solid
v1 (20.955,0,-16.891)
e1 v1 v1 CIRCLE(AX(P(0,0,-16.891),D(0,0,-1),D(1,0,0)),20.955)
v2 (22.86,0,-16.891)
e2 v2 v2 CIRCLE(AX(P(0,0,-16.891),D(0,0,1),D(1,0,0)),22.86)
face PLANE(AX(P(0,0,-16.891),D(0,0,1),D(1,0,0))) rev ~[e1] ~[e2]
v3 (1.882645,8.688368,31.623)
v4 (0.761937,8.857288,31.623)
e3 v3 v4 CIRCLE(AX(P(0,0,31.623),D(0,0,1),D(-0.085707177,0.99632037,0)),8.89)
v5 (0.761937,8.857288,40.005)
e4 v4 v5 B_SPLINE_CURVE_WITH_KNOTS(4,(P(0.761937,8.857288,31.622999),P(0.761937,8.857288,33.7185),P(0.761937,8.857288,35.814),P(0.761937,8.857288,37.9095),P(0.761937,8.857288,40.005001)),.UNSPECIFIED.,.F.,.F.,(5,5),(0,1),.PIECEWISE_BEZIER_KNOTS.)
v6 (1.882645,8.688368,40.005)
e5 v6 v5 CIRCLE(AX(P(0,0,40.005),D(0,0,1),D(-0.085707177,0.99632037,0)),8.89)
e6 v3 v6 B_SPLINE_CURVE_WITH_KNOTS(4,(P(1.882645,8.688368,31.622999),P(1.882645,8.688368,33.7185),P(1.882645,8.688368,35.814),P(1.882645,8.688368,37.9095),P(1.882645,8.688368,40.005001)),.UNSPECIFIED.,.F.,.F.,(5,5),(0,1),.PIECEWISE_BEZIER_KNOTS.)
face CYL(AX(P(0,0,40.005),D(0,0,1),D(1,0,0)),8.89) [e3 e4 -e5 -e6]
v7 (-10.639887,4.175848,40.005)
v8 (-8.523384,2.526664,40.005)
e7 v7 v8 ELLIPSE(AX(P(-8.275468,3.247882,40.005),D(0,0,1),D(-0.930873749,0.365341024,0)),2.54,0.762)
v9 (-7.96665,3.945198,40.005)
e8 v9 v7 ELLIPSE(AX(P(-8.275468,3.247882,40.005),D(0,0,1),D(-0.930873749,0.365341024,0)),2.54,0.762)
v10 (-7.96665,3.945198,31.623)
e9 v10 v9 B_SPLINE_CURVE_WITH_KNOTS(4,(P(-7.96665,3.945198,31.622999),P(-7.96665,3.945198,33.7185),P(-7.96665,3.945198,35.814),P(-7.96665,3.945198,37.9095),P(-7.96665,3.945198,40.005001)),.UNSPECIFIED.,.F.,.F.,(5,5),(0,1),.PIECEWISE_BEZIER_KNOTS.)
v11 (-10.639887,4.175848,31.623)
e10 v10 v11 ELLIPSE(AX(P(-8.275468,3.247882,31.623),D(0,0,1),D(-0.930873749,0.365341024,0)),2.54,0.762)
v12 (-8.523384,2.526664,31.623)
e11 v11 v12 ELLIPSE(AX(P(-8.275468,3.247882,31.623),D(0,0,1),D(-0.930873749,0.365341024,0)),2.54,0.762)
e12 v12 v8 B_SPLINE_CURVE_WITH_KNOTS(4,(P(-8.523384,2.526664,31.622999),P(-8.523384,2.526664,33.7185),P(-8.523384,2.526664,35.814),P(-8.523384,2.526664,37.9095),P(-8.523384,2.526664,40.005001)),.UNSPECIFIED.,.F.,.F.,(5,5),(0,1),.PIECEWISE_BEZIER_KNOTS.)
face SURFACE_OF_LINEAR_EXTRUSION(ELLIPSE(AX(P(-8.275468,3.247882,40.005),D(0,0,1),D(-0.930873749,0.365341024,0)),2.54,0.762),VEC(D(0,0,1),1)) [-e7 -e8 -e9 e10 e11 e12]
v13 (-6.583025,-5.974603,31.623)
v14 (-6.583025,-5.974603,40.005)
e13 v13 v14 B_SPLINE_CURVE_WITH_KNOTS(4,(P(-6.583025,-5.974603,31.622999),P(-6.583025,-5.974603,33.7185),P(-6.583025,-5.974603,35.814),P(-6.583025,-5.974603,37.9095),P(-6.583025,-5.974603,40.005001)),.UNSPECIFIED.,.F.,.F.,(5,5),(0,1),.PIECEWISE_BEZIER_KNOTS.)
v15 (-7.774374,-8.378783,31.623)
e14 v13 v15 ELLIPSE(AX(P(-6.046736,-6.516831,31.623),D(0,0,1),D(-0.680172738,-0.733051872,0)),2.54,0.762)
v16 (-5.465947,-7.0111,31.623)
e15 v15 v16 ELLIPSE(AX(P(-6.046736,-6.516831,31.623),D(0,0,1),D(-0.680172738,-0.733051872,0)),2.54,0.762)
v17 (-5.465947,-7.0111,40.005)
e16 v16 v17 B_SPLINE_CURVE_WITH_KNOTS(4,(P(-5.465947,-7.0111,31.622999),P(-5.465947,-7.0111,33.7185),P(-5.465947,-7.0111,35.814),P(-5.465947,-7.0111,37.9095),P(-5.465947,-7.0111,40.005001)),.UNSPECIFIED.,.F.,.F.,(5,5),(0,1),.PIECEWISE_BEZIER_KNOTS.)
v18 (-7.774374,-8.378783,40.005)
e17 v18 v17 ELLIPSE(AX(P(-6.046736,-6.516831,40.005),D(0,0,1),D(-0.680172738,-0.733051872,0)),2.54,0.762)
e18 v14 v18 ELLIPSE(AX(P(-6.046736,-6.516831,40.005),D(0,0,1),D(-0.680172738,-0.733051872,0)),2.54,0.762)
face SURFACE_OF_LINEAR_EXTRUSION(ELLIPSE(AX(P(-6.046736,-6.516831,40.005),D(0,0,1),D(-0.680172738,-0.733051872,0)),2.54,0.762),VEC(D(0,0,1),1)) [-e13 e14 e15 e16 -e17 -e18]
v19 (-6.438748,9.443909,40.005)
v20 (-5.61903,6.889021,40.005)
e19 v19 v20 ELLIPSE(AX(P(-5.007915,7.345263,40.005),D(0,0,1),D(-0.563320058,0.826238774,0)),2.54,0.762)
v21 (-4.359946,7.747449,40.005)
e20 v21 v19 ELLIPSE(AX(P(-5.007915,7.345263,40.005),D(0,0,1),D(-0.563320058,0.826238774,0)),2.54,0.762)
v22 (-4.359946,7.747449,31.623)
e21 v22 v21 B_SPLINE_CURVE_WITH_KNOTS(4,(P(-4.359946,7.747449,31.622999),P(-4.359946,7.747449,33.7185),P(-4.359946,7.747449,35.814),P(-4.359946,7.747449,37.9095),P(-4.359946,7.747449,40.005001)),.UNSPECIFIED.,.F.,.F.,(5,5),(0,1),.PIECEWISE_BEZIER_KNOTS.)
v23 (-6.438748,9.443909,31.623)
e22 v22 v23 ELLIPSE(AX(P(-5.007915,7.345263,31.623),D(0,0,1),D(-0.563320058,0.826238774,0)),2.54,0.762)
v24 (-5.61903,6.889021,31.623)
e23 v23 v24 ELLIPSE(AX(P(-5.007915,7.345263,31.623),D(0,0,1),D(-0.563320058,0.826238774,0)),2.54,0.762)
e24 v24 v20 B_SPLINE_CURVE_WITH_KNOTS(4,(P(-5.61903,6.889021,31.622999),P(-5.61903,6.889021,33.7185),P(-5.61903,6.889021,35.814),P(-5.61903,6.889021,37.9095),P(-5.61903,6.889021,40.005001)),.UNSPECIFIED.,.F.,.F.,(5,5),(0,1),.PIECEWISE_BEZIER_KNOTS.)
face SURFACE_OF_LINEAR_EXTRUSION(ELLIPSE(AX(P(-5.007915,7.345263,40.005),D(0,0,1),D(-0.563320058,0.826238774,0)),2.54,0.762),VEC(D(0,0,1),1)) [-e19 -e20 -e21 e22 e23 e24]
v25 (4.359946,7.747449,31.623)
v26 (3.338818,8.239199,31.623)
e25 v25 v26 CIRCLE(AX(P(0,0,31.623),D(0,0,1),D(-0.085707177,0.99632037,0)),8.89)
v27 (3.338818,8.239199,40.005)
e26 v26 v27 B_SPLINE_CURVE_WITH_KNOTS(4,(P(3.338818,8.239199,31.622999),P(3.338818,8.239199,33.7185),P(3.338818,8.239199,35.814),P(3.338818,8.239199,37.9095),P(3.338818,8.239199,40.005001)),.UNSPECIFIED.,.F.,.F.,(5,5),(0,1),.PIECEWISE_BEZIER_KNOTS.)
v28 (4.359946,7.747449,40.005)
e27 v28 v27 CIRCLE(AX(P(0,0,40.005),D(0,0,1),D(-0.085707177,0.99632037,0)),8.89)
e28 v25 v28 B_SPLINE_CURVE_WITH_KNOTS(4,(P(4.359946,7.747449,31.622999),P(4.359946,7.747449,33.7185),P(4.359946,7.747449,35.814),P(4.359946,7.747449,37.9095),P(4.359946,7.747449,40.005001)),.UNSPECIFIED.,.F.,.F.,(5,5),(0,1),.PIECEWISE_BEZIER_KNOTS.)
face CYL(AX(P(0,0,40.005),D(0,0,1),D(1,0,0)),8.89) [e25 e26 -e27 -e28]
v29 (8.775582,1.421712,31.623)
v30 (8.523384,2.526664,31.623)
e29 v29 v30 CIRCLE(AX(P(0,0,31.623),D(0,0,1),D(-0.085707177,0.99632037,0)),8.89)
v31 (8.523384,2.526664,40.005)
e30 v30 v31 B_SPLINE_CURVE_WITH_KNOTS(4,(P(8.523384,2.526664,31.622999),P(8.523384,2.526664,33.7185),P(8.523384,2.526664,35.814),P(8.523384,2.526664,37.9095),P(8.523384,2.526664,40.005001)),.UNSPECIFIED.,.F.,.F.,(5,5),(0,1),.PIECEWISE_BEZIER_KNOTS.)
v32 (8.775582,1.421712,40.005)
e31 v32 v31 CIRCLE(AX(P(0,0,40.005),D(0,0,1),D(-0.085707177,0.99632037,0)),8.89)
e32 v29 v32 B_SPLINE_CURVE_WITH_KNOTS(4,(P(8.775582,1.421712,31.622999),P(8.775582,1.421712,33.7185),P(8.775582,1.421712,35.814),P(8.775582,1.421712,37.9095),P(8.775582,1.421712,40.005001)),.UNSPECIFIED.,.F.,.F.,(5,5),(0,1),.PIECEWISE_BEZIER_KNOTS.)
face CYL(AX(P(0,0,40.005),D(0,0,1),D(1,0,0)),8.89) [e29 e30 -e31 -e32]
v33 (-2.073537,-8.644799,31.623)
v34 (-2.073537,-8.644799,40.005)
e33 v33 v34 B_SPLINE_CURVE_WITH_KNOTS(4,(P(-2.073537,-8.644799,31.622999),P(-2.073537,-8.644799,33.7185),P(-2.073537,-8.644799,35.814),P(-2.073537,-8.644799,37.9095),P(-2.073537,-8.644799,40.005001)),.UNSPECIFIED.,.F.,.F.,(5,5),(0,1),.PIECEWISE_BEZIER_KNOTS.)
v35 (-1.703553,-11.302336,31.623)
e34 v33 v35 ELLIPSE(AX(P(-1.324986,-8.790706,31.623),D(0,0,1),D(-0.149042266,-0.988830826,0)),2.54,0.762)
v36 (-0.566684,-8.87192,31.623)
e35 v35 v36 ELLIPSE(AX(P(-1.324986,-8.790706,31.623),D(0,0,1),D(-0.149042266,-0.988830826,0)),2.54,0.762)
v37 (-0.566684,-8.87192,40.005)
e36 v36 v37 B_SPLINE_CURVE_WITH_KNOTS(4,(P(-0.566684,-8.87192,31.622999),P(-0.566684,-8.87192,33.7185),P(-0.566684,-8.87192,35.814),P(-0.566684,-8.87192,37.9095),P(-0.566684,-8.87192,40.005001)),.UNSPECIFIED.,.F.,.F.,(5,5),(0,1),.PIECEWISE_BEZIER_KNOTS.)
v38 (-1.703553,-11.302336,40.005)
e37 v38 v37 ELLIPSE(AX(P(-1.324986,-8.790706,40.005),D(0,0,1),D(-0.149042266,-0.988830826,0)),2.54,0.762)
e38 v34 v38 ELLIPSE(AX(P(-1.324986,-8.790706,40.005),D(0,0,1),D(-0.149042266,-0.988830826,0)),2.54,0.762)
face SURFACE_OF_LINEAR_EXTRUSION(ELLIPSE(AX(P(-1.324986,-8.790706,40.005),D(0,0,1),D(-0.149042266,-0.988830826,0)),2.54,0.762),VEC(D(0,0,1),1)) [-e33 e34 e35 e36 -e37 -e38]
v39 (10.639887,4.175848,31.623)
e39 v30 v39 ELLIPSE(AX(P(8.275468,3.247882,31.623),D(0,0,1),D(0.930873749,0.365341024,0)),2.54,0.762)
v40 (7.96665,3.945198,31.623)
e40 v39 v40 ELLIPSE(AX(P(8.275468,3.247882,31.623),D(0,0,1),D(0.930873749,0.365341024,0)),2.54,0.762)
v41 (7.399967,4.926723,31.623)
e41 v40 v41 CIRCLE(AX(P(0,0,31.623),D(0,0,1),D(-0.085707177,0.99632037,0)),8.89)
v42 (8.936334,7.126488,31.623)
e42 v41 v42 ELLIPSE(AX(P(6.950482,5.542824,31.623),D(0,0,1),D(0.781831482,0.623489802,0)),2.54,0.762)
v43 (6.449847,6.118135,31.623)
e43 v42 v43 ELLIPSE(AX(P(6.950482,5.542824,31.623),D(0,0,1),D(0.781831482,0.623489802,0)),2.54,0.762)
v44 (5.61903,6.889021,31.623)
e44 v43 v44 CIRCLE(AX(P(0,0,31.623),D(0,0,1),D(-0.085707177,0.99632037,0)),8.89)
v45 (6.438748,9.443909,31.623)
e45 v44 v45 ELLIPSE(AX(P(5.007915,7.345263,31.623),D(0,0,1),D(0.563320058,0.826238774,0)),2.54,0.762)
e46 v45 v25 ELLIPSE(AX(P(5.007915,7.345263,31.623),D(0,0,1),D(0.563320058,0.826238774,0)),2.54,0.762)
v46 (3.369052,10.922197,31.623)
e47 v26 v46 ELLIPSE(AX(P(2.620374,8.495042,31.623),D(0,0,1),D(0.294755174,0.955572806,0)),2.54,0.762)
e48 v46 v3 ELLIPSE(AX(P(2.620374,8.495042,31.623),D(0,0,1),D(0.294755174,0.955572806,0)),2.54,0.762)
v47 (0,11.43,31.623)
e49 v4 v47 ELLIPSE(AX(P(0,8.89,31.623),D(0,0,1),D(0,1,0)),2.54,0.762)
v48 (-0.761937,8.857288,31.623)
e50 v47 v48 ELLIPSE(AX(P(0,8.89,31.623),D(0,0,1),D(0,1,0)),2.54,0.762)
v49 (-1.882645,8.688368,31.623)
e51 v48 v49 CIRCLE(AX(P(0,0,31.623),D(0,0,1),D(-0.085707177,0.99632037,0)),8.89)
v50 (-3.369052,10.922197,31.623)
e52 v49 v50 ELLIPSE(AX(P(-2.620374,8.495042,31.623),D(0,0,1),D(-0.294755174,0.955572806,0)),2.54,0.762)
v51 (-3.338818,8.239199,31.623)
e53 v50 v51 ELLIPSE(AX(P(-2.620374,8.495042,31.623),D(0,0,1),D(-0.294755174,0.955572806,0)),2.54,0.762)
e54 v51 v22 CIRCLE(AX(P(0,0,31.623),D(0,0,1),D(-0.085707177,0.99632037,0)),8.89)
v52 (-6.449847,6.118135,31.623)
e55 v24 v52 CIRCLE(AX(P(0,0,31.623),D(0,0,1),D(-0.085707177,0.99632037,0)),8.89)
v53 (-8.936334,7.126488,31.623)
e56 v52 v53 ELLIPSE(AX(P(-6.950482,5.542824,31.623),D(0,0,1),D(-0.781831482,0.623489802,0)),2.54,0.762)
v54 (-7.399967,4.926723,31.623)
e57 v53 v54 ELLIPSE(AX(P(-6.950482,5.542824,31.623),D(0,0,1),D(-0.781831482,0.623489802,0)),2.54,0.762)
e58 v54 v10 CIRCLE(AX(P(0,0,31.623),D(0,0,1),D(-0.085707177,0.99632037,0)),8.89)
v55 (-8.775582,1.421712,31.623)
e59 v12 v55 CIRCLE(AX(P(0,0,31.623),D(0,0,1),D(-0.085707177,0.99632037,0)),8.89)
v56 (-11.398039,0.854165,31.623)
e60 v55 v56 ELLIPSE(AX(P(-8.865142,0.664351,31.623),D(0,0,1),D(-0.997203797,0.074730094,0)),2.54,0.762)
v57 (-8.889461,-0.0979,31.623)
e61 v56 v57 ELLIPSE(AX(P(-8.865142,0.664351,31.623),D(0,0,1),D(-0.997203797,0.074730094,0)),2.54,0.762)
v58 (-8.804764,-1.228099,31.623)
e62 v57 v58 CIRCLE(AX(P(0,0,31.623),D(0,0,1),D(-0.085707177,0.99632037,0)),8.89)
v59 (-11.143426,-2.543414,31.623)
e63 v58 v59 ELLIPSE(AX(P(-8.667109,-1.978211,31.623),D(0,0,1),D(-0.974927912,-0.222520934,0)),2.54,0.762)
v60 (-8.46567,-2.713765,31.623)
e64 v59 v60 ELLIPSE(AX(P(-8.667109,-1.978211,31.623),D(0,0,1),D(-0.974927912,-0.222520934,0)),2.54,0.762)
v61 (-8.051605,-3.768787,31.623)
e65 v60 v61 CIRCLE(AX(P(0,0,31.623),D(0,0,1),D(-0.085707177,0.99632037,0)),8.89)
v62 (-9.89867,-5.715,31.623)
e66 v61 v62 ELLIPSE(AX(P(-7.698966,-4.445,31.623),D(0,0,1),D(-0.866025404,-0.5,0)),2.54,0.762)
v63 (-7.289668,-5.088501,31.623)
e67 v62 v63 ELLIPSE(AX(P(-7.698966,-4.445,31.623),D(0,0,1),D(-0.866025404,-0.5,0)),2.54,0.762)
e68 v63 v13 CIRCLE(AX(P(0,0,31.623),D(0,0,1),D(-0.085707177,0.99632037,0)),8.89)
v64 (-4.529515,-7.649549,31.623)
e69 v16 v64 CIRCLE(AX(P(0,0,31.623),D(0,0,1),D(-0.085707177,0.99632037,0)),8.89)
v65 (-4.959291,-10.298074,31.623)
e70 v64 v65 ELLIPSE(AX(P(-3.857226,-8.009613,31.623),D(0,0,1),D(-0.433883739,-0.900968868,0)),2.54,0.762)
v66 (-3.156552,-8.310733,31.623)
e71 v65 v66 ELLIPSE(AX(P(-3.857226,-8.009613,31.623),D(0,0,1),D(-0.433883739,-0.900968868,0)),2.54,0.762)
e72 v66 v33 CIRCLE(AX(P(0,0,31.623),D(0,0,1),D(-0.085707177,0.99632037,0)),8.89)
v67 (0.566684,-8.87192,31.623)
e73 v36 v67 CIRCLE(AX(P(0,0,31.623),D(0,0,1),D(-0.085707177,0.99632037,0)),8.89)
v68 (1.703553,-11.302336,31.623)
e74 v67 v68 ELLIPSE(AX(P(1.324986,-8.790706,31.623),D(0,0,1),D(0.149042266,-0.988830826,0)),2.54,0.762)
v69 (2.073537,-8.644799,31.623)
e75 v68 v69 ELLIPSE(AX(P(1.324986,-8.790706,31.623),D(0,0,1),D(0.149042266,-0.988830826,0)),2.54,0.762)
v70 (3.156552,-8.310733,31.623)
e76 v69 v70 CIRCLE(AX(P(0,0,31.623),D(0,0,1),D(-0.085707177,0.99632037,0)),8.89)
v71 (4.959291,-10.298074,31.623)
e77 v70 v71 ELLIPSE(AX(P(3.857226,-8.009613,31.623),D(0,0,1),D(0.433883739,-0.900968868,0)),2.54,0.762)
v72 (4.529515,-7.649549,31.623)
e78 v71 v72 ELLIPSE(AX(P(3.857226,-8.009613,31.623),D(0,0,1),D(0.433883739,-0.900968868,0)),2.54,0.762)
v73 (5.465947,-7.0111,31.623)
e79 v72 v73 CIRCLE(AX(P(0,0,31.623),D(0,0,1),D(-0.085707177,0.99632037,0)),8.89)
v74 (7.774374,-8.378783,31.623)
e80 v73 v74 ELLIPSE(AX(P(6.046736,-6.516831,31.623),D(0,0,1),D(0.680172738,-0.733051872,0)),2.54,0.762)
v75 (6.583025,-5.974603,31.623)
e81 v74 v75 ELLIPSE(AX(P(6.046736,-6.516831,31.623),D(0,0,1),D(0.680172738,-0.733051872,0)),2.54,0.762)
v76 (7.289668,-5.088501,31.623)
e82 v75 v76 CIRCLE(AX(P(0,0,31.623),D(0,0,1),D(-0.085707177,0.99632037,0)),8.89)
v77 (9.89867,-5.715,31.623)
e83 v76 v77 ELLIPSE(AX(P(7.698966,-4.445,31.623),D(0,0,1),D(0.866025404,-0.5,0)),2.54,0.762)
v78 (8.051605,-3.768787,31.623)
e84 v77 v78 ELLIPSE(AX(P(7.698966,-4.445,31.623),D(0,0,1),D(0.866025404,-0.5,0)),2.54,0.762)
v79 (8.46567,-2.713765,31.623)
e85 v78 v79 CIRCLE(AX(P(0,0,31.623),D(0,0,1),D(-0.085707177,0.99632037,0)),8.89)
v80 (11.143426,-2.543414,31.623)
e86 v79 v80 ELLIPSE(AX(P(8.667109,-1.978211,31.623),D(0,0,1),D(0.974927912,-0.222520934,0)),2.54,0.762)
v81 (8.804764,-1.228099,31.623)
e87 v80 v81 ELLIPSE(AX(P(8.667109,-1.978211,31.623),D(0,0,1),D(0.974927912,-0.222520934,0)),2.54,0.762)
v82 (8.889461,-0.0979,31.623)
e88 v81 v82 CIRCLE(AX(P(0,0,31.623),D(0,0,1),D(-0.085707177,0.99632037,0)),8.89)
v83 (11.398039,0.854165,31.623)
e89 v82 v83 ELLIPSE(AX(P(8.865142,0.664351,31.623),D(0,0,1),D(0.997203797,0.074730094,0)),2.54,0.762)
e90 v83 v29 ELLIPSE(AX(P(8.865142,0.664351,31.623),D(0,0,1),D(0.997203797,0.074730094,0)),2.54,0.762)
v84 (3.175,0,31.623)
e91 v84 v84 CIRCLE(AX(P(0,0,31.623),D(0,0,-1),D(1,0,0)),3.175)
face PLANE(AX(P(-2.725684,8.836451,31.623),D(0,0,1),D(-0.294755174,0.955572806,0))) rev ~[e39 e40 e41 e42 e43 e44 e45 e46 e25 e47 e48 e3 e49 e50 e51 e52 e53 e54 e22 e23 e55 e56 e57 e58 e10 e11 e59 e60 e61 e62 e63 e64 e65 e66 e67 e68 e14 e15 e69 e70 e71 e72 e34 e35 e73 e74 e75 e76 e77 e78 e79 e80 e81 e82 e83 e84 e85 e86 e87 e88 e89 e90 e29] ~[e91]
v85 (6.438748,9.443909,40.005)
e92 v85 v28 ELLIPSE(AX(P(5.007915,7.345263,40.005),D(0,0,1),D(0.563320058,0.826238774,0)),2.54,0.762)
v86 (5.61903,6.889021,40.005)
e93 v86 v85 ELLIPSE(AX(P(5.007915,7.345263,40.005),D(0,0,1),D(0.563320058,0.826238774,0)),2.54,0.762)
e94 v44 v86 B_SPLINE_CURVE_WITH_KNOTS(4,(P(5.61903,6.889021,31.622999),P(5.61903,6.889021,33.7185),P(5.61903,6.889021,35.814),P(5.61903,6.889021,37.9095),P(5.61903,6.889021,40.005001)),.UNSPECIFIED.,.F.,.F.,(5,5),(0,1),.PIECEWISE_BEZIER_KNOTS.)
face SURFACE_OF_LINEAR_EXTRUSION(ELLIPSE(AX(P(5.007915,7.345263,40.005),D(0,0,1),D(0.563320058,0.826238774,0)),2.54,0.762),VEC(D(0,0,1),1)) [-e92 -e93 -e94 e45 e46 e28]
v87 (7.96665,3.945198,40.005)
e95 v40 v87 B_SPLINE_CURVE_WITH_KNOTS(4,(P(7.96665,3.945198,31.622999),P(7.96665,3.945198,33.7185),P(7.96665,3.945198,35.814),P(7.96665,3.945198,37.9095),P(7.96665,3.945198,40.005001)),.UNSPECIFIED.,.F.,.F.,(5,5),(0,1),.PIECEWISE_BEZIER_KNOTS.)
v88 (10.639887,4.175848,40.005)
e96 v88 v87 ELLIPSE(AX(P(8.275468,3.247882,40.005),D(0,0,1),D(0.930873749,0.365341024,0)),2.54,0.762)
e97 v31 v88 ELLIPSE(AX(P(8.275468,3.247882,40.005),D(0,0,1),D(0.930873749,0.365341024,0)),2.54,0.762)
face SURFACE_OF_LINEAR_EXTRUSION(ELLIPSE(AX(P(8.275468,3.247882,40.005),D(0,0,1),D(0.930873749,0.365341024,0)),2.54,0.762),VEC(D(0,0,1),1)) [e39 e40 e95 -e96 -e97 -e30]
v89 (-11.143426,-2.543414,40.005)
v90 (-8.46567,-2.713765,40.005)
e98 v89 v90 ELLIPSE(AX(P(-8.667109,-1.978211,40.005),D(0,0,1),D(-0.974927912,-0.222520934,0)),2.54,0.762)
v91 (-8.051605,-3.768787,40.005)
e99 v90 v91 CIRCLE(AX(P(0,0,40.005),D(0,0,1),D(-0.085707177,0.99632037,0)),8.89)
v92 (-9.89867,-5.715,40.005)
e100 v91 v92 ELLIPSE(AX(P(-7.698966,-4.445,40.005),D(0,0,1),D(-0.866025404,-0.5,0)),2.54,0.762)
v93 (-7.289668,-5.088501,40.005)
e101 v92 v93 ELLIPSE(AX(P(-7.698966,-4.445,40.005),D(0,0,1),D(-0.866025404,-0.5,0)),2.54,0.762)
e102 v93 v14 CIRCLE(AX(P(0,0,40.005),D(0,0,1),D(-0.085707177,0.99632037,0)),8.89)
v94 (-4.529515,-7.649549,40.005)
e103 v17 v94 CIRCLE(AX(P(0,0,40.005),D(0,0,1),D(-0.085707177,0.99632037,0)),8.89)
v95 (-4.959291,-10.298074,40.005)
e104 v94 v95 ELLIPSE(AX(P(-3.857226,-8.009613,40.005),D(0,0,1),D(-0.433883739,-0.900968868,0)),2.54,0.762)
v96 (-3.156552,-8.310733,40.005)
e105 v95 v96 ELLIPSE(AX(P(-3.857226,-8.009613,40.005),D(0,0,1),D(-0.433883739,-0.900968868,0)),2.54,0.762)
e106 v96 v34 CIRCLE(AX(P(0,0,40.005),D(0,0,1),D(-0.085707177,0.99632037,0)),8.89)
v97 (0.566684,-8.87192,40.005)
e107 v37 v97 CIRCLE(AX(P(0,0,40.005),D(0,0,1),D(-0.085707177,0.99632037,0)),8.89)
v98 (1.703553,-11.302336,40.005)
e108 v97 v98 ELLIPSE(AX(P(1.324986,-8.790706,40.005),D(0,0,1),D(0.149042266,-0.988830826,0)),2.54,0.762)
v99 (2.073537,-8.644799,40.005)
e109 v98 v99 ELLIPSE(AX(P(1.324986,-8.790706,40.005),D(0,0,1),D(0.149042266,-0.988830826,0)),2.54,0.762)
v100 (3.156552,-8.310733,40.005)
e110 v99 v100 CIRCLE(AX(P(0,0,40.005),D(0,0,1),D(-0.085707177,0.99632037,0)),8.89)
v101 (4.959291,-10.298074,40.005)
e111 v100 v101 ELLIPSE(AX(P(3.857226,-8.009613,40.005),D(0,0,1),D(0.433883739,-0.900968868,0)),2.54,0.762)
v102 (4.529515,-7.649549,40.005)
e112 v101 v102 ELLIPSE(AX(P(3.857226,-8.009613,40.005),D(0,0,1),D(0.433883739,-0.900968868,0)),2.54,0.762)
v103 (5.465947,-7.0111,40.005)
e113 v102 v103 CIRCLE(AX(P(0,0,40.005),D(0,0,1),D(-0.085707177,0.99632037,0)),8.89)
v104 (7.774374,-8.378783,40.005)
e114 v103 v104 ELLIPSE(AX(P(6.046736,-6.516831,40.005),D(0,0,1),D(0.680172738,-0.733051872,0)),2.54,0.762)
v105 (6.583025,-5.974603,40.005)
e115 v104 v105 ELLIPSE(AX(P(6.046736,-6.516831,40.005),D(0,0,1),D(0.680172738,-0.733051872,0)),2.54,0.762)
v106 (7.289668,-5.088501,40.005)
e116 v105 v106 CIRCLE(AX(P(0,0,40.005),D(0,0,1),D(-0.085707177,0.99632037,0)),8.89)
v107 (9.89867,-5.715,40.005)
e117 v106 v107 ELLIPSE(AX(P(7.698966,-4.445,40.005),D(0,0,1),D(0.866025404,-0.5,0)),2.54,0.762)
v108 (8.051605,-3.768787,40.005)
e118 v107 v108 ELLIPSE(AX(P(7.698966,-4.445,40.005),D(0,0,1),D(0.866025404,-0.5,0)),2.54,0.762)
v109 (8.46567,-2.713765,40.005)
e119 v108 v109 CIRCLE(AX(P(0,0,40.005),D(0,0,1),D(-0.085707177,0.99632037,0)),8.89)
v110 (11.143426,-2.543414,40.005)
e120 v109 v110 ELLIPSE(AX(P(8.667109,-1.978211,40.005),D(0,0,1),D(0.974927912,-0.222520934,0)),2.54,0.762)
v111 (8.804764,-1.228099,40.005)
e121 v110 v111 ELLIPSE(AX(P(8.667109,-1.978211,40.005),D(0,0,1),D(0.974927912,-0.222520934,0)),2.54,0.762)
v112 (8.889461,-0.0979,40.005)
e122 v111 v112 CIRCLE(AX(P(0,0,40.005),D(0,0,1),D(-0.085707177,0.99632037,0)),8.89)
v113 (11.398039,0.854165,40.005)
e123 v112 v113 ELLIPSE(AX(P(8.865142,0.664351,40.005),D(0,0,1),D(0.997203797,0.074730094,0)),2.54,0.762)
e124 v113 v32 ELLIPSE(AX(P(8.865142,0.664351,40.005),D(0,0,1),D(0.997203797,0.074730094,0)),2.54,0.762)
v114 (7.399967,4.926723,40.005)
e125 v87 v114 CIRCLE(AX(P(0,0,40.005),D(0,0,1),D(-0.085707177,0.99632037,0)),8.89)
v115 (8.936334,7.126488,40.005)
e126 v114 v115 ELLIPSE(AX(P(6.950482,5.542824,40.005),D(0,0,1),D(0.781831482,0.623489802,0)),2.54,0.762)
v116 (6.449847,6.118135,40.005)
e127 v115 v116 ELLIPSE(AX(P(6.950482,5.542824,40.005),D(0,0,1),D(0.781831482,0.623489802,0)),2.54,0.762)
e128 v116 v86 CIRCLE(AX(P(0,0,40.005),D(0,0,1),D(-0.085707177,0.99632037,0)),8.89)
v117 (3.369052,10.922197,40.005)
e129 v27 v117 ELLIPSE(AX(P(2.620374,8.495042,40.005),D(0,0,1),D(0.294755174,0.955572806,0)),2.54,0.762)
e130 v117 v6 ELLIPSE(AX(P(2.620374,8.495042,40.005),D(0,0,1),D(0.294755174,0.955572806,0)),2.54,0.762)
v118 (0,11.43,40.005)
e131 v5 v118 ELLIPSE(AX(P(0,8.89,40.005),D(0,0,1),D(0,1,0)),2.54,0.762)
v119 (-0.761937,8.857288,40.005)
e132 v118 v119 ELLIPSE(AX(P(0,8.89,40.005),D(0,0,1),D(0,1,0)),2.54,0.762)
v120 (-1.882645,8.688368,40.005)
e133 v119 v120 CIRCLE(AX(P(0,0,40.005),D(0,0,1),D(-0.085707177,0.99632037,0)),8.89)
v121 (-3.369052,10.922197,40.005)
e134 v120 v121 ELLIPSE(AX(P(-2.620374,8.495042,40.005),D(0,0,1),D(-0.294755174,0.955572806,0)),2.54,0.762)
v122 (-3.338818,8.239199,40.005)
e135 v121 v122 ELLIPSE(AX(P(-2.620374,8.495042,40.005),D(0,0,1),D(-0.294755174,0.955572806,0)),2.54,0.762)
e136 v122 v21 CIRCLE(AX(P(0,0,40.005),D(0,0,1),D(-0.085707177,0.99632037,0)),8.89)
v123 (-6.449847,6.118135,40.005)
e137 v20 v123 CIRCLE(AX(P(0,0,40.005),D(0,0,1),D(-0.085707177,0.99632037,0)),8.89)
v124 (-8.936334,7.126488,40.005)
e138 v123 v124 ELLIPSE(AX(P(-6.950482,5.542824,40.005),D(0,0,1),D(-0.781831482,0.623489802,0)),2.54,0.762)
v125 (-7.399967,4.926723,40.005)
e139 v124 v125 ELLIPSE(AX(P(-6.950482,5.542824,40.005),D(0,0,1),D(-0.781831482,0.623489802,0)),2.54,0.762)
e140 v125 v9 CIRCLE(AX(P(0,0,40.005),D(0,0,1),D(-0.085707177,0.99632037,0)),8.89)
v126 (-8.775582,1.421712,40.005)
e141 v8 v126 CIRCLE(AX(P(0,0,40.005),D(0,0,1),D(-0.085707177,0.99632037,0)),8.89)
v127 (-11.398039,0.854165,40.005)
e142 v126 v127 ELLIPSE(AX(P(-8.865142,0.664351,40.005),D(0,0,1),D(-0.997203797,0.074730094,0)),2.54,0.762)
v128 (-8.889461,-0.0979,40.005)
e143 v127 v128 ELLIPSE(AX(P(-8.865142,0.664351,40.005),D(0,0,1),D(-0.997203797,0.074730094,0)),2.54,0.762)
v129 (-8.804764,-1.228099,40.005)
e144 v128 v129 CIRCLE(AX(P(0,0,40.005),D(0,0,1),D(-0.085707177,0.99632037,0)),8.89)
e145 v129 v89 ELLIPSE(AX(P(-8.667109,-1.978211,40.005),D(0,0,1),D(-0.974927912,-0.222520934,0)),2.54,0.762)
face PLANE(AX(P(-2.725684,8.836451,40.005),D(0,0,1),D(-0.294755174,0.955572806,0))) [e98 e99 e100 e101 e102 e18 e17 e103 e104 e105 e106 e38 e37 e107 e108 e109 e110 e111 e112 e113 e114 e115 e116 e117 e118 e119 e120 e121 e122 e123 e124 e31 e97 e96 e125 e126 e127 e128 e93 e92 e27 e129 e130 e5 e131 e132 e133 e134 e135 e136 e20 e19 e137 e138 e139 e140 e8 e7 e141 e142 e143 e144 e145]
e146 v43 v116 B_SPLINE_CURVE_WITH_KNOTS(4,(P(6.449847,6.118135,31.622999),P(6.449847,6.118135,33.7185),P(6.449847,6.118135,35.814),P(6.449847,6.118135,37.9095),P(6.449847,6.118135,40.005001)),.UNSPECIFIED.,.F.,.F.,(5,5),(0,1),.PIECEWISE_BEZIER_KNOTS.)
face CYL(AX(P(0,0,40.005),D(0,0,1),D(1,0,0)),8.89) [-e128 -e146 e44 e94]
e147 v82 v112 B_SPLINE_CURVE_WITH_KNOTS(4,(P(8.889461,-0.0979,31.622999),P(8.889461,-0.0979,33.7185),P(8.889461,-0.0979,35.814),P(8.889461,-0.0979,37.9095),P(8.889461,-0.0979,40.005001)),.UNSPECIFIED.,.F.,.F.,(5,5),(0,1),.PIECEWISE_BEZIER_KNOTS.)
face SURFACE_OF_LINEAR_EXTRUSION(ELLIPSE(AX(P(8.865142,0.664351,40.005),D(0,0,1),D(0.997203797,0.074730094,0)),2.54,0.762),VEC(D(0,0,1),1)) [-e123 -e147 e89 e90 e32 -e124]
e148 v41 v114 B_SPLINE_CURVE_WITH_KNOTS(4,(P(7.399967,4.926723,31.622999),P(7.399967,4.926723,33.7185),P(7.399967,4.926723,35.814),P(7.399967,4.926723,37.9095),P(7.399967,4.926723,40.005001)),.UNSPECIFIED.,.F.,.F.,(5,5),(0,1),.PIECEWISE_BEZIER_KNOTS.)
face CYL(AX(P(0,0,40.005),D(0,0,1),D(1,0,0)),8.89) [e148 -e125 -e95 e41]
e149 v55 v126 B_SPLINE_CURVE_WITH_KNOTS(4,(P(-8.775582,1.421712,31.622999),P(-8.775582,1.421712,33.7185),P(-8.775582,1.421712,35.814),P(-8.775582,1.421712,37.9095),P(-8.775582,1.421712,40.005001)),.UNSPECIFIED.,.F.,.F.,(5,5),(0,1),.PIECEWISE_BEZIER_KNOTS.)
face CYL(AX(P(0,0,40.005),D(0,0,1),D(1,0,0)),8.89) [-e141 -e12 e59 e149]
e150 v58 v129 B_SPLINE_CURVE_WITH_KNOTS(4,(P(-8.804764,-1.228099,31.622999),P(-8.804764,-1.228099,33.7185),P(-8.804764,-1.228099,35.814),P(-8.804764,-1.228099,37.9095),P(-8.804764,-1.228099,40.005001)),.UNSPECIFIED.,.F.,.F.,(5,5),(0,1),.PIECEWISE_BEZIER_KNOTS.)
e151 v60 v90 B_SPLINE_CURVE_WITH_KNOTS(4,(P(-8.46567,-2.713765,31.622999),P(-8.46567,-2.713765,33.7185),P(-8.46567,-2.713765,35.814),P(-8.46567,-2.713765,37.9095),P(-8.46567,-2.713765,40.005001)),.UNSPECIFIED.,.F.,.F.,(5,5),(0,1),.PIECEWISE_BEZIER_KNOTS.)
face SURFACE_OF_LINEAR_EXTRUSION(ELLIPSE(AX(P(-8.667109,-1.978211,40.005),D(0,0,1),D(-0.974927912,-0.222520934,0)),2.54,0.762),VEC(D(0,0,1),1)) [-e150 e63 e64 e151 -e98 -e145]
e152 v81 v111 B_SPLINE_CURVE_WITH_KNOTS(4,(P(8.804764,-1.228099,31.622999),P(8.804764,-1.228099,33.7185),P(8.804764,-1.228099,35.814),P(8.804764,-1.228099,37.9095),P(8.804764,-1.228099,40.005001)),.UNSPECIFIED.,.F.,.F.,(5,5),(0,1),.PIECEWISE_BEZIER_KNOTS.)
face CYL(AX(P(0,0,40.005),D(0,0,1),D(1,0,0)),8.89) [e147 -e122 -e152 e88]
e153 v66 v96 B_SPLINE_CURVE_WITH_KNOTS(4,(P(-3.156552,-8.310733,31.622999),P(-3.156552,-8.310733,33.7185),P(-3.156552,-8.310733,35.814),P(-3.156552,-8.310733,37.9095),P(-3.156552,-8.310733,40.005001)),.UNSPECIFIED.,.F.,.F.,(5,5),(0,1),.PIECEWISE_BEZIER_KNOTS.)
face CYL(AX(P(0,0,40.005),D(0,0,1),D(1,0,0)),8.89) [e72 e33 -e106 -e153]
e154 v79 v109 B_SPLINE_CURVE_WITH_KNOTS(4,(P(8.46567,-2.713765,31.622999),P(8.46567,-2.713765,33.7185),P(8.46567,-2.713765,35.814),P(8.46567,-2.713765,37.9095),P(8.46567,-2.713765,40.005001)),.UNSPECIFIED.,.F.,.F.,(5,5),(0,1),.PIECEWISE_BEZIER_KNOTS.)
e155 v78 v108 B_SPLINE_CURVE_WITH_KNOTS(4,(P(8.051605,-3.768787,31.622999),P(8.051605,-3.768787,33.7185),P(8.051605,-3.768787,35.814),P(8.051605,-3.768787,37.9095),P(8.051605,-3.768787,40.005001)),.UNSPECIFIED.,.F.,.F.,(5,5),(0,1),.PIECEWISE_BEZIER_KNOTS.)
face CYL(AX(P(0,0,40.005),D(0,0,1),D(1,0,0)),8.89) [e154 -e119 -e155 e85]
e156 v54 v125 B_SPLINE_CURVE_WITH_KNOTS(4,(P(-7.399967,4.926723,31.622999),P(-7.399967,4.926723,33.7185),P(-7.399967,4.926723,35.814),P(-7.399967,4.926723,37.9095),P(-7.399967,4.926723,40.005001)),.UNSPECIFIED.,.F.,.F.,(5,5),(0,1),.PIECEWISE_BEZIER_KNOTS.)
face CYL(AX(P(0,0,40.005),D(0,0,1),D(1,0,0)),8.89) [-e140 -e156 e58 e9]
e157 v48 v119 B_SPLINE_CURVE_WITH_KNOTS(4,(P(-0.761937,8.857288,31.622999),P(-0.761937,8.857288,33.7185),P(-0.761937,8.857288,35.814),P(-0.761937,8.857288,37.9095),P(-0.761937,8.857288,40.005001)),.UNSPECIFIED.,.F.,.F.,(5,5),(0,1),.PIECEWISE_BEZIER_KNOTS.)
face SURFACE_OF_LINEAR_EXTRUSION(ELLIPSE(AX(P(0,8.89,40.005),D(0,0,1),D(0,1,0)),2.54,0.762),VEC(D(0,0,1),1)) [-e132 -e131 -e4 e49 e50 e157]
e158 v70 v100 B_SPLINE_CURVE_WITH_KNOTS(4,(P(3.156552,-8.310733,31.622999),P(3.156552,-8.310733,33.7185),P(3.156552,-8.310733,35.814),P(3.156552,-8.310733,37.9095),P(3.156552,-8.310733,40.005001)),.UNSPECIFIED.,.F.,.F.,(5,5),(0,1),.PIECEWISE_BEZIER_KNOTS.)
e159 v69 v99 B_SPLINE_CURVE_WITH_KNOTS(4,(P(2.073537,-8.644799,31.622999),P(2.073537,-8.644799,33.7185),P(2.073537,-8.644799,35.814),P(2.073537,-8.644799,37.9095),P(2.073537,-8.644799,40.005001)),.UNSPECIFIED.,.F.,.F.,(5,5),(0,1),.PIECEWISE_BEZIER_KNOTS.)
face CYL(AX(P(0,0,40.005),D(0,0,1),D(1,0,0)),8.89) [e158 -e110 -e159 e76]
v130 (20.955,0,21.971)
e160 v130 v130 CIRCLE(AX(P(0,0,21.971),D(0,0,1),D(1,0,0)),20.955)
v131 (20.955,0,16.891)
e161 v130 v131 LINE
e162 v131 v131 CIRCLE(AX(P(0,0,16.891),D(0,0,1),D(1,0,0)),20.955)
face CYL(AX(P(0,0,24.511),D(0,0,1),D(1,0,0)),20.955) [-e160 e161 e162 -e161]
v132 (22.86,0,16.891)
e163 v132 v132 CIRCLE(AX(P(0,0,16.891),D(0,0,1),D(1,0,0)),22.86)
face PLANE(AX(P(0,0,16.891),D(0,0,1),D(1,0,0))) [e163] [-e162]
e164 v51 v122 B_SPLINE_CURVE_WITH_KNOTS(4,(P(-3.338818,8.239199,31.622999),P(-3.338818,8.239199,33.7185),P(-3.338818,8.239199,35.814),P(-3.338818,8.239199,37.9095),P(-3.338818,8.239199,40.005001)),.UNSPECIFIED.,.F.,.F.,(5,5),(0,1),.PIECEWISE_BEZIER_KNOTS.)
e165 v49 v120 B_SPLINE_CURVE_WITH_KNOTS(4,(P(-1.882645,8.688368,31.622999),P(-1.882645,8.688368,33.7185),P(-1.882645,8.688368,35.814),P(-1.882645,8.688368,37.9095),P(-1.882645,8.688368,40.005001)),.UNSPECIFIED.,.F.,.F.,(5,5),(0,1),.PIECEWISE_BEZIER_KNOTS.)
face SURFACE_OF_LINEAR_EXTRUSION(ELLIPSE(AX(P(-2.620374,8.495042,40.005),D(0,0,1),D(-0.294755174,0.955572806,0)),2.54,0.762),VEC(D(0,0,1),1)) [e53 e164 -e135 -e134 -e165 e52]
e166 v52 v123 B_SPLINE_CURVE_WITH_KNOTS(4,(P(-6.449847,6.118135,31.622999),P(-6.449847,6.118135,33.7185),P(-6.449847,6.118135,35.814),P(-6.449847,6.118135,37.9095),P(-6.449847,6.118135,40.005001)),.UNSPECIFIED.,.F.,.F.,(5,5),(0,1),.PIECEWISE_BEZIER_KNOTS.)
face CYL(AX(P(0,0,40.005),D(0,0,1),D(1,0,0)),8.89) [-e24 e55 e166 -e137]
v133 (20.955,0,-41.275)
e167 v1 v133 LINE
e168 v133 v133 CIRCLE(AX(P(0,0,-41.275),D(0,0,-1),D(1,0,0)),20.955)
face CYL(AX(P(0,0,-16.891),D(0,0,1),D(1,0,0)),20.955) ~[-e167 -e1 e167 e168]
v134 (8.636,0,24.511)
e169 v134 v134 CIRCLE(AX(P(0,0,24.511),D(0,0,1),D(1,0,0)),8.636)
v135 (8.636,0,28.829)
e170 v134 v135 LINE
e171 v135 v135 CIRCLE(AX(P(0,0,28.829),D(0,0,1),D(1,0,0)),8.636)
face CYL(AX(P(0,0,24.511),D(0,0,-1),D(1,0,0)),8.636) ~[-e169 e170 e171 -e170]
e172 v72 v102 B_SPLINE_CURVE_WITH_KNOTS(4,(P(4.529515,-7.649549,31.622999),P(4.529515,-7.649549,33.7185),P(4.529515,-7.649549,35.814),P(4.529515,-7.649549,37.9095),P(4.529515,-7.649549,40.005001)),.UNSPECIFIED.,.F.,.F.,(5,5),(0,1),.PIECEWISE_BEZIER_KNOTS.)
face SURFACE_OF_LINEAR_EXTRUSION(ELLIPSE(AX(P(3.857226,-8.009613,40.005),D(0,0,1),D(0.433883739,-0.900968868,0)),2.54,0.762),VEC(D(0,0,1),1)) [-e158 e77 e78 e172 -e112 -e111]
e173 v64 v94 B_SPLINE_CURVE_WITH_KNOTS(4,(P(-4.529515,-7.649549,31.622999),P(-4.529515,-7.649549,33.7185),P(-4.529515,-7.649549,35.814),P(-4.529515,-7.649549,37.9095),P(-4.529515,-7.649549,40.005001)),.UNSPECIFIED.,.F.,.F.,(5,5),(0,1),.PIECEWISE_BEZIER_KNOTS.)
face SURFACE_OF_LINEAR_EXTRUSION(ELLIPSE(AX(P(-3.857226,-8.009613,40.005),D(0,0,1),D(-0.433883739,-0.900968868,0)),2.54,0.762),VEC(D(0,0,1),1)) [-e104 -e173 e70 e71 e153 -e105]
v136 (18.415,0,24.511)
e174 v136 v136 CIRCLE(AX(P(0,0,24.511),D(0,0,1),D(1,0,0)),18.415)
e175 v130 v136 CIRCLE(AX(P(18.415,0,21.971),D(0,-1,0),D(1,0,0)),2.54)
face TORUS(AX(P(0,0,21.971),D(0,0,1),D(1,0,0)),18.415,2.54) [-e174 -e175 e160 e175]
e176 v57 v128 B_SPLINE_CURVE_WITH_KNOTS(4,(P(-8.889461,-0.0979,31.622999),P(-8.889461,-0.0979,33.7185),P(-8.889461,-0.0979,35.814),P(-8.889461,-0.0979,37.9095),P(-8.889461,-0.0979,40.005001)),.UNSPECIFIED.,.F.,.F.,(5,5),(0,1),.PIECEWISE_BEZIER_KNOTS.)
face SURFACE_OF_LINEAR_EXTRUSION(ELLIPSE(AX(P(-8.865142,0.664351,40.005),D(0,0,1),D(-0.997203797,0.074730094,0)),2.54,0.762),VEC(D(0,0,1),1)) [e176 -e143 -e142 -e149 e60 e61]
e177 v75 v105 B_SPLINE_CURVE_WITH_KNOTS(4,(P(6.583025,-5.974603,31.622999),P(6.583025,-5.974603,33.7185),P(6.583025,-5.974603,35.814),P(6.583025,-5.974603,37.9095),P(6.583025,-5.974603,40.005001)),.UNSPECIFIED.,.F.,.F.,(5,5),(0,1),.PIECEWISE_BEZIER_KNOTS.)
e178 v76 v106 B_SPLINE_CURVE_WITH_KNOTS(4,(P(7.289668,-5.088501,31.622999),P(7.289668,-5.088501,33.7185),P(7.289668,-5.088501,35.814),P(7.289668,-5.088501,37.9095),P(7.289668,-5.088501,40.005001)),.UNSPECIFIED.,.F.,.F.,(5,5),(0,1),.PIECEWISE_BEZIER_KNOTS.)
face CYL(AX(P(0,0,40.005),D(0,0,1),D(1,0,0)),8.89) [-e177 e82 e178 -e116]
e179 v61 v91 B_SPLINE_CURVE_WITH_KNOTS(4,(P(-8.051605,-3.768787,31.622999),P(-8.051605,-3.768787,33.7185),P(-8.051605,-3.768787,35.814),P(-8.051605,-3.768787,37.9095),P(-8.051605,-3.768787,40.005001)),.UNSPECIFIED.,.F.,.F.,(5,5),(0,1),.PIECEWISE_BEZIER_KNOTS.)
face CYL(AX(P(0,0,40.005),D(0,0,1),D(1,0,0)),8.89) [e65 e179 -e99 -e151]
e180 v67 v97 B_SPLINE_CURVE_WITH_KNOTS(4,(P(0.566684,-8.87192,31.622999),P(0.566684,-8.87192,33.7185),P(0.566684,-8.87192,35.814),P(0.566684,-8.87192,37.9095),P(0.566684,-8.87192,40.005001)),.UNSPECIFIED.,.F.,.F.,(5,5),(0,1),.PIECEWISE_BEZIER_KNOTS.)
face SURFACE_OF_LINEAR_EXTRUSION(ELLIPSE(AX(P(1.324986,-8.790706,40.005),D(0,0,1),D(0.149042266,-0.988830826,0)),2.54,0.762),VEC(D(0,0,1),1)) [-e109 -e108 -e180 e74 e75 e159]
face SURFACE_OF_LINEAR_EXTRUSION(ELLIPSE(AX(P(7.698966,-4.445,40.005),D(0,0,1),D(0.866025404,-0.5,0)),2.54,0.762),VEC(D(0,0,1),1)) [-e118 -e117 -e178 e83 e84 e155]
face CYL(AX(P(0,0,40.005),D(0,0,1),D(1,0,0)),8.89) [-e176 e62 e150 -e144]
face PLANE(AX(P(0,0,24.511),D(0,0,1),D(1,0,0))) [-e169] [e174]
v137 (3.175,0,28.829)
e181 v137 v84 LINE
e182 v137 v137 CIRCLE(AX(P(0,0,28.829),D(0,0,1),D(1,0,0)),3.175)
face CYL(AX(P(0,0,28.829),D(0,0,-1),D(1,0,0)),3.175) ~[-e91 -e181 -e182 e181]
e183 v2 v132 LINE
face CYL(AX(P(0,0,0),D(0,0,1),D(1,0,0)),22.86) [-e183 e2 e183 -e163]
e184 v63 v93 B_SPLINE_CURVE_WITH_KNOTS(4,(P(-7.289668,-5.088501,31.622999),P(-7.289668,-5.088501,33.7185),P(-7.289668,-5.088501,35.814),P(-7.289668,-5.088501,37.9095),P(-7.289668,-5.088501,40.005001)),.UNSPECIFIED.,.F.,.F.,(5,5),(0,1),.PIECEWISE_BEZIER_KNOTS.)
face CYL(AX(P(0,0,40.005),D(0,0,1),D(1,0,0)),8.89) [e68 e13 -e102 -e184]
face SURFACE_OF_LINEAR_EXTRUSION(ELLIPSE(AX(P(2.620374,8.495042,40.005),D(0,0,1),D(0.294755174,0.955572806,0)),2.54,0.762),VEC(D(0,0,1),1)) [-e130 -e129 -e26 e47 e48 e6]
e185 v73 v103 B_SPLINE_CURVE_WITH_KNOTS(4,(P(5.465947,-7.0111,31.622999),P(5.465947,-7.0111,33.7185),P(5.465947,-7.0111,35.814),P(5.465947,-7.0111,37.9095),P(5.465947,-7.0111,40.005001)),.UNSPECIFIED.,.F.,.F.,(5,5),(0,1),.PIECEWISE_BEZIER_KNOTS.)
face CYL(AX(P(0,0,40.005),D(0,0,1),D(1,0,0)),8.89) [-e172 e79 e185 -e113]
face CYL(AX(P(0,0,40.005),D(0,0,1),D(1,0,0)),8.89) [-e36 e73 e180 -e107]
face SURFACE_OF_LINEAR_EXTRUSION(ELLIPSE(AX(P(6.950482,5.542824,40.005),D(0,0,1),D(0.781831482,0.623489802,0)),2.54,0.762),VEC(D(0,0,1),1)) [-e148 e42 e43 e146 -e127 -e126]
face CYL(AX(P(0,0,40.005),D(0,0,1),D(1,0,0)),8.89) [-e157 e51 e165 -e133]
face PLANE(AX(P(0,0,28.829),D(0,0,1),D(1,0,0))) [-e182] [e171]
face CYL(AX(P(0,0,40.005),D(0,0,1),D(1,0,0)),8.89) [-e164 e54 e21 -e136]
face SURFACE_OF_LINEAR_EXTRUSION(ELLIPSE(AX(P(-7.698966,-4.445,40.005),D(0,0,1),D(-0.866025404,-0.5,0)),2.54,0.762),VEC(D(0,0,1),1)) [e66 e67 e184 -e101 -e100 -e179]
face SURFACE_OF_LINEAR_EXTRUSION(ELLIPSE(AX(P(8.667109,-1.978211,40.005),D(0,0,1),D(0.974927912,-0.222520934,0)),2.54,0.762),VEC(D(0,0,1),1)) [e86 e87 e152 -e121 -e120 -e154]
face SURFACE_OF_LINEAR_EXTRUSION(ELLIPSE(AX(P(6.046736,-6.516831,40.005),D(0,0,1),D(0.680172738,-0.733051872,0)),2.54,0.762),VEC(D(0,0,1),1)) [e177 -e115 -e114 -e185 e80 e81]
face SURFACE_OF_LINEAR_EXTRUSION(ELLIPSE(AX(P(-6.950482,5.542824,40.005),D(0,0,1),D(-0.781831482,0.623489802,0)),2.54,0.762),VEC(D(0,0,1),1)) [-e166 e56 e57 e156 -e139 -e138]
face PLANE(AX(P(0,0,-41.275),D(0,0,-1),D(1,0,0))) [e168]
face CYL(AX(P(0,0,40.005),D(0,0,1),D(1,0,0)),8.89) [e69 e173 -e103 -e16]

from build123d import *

# Parameters (mm, degrees)
SKETCH1_R           = 22.86
BOSS_EXTRUDE1_DEPTH = 16.891
SKETCH2_R           = 20.955
BOSS_EXTRUDE2_DEPTH = 24.384
BOSS_EXTRUDE3_START = 7.62
SKETCH3_R           = 20.955
BOSS_EXTRUDE3_DEPTH = 7.62
SKETCH4_R           = 8.636
BOSS_EXTRUDE4_DEPTH = 4.318
FILLET1_R           = 2.54
SKETCH5_R           = 3.175
BOSS_EXTRUDE6_DEPTH = 11.176
SKETCH6_R           = 8.89
BOSS_EXTRUDE7_DEPTH = 8.382
SKETCH7_RX          = 2.54
SKETCH7_RY          = 0.762
BOSS_EXTRUDE8_DEPTH = 8.382
CIRPATTERN1_COUNT   = 21


with BuildPart() as part:
    # Sketch1 → Boss-Extrude1 (new, symmetric)
    with BuildSketch(Plane.XY):
        Circle(SKETCH1_R)
    extrude(amount=BOSS_EXTRUDE1_DEPTH, both=True)

    # Sketch2 → Boss-Extrude2 (add)
    with BuildSketch(Plane(origin=(0, 0, -16.891), x_dir=(-1, 0, 0), z_dir=(0, 0, -1))):
        with Locations(Location((0, 0, 0), (0, 0, 180))):
            Circle(SKETCH2_R)
    extrude(amount=BOSS_EXTRUDE2_DEPTH)

    # Sketch3 → Boss-Extrude3 (add)
    with BuildSketch(Plane.XY.offset(16.891).offset(BOSS_EXTRUDE3_START)):
        Circle(SKETCH3_R)
    extrude(amount=-BOSS_EXTRUDE3_DEPTH)

    # Sketch4 → Boss-Extrude4 (add)
    with BuildSketch(Plane.XY.offset(24.511)):
        Circle(SKETCH4_R)
    extrude(amount=BOSS_EXTRUDE4_DEPTH)

    # Fillet1
    fillet1_edges = [part.edges().sort_by_distance(p)[0] for p in [
        (-20.955, 0, 24.511),
    ]]
    fillet(fillet1_edges, radius=FILLET1_R)

    # Sketch5 → Boss-Extrude6 (add)
    with BuildSketch(Plane.XY.offset(28.829)):
        Circle(SKETCH5_R)
    extrude(amount=BOSS_EXTRUDE6_DEPTH)

    # Sketch6 → Boss-Extrude7 (add)
    with BuildSketch(Plane.XY.offset(40.005)):
        Circle(SKETCH6_R)
    extrude(amount=-BOSS_EXTRUDE7_DEPTH)

    # Sketch7 → Boss-Extrude8 (add)
    with BuildSketch(Plane.XY.offset(40.005)):
        with Locations(Location((0, 8.89), (0, 0, 90))):
            Ellipse(SKETCH7_RX, SKETCH7_RY)
    boss_extrude8 = extrude(amount=-BOSS_EXTRUDE8_DEPTH)

    # CirPattern1: Boss-Extrude8 ×21 about axis
    cirpattern1_axis = Axis((0, 0, 44.069), (0, 0, -1))
    for i in range(1, CIRPATTERN1_COUNT):
        add(boss_extrude8.rotate(cirpattern1_axis, i * 360 / CIRPATTERN1_COUNT))


solid = part.part
